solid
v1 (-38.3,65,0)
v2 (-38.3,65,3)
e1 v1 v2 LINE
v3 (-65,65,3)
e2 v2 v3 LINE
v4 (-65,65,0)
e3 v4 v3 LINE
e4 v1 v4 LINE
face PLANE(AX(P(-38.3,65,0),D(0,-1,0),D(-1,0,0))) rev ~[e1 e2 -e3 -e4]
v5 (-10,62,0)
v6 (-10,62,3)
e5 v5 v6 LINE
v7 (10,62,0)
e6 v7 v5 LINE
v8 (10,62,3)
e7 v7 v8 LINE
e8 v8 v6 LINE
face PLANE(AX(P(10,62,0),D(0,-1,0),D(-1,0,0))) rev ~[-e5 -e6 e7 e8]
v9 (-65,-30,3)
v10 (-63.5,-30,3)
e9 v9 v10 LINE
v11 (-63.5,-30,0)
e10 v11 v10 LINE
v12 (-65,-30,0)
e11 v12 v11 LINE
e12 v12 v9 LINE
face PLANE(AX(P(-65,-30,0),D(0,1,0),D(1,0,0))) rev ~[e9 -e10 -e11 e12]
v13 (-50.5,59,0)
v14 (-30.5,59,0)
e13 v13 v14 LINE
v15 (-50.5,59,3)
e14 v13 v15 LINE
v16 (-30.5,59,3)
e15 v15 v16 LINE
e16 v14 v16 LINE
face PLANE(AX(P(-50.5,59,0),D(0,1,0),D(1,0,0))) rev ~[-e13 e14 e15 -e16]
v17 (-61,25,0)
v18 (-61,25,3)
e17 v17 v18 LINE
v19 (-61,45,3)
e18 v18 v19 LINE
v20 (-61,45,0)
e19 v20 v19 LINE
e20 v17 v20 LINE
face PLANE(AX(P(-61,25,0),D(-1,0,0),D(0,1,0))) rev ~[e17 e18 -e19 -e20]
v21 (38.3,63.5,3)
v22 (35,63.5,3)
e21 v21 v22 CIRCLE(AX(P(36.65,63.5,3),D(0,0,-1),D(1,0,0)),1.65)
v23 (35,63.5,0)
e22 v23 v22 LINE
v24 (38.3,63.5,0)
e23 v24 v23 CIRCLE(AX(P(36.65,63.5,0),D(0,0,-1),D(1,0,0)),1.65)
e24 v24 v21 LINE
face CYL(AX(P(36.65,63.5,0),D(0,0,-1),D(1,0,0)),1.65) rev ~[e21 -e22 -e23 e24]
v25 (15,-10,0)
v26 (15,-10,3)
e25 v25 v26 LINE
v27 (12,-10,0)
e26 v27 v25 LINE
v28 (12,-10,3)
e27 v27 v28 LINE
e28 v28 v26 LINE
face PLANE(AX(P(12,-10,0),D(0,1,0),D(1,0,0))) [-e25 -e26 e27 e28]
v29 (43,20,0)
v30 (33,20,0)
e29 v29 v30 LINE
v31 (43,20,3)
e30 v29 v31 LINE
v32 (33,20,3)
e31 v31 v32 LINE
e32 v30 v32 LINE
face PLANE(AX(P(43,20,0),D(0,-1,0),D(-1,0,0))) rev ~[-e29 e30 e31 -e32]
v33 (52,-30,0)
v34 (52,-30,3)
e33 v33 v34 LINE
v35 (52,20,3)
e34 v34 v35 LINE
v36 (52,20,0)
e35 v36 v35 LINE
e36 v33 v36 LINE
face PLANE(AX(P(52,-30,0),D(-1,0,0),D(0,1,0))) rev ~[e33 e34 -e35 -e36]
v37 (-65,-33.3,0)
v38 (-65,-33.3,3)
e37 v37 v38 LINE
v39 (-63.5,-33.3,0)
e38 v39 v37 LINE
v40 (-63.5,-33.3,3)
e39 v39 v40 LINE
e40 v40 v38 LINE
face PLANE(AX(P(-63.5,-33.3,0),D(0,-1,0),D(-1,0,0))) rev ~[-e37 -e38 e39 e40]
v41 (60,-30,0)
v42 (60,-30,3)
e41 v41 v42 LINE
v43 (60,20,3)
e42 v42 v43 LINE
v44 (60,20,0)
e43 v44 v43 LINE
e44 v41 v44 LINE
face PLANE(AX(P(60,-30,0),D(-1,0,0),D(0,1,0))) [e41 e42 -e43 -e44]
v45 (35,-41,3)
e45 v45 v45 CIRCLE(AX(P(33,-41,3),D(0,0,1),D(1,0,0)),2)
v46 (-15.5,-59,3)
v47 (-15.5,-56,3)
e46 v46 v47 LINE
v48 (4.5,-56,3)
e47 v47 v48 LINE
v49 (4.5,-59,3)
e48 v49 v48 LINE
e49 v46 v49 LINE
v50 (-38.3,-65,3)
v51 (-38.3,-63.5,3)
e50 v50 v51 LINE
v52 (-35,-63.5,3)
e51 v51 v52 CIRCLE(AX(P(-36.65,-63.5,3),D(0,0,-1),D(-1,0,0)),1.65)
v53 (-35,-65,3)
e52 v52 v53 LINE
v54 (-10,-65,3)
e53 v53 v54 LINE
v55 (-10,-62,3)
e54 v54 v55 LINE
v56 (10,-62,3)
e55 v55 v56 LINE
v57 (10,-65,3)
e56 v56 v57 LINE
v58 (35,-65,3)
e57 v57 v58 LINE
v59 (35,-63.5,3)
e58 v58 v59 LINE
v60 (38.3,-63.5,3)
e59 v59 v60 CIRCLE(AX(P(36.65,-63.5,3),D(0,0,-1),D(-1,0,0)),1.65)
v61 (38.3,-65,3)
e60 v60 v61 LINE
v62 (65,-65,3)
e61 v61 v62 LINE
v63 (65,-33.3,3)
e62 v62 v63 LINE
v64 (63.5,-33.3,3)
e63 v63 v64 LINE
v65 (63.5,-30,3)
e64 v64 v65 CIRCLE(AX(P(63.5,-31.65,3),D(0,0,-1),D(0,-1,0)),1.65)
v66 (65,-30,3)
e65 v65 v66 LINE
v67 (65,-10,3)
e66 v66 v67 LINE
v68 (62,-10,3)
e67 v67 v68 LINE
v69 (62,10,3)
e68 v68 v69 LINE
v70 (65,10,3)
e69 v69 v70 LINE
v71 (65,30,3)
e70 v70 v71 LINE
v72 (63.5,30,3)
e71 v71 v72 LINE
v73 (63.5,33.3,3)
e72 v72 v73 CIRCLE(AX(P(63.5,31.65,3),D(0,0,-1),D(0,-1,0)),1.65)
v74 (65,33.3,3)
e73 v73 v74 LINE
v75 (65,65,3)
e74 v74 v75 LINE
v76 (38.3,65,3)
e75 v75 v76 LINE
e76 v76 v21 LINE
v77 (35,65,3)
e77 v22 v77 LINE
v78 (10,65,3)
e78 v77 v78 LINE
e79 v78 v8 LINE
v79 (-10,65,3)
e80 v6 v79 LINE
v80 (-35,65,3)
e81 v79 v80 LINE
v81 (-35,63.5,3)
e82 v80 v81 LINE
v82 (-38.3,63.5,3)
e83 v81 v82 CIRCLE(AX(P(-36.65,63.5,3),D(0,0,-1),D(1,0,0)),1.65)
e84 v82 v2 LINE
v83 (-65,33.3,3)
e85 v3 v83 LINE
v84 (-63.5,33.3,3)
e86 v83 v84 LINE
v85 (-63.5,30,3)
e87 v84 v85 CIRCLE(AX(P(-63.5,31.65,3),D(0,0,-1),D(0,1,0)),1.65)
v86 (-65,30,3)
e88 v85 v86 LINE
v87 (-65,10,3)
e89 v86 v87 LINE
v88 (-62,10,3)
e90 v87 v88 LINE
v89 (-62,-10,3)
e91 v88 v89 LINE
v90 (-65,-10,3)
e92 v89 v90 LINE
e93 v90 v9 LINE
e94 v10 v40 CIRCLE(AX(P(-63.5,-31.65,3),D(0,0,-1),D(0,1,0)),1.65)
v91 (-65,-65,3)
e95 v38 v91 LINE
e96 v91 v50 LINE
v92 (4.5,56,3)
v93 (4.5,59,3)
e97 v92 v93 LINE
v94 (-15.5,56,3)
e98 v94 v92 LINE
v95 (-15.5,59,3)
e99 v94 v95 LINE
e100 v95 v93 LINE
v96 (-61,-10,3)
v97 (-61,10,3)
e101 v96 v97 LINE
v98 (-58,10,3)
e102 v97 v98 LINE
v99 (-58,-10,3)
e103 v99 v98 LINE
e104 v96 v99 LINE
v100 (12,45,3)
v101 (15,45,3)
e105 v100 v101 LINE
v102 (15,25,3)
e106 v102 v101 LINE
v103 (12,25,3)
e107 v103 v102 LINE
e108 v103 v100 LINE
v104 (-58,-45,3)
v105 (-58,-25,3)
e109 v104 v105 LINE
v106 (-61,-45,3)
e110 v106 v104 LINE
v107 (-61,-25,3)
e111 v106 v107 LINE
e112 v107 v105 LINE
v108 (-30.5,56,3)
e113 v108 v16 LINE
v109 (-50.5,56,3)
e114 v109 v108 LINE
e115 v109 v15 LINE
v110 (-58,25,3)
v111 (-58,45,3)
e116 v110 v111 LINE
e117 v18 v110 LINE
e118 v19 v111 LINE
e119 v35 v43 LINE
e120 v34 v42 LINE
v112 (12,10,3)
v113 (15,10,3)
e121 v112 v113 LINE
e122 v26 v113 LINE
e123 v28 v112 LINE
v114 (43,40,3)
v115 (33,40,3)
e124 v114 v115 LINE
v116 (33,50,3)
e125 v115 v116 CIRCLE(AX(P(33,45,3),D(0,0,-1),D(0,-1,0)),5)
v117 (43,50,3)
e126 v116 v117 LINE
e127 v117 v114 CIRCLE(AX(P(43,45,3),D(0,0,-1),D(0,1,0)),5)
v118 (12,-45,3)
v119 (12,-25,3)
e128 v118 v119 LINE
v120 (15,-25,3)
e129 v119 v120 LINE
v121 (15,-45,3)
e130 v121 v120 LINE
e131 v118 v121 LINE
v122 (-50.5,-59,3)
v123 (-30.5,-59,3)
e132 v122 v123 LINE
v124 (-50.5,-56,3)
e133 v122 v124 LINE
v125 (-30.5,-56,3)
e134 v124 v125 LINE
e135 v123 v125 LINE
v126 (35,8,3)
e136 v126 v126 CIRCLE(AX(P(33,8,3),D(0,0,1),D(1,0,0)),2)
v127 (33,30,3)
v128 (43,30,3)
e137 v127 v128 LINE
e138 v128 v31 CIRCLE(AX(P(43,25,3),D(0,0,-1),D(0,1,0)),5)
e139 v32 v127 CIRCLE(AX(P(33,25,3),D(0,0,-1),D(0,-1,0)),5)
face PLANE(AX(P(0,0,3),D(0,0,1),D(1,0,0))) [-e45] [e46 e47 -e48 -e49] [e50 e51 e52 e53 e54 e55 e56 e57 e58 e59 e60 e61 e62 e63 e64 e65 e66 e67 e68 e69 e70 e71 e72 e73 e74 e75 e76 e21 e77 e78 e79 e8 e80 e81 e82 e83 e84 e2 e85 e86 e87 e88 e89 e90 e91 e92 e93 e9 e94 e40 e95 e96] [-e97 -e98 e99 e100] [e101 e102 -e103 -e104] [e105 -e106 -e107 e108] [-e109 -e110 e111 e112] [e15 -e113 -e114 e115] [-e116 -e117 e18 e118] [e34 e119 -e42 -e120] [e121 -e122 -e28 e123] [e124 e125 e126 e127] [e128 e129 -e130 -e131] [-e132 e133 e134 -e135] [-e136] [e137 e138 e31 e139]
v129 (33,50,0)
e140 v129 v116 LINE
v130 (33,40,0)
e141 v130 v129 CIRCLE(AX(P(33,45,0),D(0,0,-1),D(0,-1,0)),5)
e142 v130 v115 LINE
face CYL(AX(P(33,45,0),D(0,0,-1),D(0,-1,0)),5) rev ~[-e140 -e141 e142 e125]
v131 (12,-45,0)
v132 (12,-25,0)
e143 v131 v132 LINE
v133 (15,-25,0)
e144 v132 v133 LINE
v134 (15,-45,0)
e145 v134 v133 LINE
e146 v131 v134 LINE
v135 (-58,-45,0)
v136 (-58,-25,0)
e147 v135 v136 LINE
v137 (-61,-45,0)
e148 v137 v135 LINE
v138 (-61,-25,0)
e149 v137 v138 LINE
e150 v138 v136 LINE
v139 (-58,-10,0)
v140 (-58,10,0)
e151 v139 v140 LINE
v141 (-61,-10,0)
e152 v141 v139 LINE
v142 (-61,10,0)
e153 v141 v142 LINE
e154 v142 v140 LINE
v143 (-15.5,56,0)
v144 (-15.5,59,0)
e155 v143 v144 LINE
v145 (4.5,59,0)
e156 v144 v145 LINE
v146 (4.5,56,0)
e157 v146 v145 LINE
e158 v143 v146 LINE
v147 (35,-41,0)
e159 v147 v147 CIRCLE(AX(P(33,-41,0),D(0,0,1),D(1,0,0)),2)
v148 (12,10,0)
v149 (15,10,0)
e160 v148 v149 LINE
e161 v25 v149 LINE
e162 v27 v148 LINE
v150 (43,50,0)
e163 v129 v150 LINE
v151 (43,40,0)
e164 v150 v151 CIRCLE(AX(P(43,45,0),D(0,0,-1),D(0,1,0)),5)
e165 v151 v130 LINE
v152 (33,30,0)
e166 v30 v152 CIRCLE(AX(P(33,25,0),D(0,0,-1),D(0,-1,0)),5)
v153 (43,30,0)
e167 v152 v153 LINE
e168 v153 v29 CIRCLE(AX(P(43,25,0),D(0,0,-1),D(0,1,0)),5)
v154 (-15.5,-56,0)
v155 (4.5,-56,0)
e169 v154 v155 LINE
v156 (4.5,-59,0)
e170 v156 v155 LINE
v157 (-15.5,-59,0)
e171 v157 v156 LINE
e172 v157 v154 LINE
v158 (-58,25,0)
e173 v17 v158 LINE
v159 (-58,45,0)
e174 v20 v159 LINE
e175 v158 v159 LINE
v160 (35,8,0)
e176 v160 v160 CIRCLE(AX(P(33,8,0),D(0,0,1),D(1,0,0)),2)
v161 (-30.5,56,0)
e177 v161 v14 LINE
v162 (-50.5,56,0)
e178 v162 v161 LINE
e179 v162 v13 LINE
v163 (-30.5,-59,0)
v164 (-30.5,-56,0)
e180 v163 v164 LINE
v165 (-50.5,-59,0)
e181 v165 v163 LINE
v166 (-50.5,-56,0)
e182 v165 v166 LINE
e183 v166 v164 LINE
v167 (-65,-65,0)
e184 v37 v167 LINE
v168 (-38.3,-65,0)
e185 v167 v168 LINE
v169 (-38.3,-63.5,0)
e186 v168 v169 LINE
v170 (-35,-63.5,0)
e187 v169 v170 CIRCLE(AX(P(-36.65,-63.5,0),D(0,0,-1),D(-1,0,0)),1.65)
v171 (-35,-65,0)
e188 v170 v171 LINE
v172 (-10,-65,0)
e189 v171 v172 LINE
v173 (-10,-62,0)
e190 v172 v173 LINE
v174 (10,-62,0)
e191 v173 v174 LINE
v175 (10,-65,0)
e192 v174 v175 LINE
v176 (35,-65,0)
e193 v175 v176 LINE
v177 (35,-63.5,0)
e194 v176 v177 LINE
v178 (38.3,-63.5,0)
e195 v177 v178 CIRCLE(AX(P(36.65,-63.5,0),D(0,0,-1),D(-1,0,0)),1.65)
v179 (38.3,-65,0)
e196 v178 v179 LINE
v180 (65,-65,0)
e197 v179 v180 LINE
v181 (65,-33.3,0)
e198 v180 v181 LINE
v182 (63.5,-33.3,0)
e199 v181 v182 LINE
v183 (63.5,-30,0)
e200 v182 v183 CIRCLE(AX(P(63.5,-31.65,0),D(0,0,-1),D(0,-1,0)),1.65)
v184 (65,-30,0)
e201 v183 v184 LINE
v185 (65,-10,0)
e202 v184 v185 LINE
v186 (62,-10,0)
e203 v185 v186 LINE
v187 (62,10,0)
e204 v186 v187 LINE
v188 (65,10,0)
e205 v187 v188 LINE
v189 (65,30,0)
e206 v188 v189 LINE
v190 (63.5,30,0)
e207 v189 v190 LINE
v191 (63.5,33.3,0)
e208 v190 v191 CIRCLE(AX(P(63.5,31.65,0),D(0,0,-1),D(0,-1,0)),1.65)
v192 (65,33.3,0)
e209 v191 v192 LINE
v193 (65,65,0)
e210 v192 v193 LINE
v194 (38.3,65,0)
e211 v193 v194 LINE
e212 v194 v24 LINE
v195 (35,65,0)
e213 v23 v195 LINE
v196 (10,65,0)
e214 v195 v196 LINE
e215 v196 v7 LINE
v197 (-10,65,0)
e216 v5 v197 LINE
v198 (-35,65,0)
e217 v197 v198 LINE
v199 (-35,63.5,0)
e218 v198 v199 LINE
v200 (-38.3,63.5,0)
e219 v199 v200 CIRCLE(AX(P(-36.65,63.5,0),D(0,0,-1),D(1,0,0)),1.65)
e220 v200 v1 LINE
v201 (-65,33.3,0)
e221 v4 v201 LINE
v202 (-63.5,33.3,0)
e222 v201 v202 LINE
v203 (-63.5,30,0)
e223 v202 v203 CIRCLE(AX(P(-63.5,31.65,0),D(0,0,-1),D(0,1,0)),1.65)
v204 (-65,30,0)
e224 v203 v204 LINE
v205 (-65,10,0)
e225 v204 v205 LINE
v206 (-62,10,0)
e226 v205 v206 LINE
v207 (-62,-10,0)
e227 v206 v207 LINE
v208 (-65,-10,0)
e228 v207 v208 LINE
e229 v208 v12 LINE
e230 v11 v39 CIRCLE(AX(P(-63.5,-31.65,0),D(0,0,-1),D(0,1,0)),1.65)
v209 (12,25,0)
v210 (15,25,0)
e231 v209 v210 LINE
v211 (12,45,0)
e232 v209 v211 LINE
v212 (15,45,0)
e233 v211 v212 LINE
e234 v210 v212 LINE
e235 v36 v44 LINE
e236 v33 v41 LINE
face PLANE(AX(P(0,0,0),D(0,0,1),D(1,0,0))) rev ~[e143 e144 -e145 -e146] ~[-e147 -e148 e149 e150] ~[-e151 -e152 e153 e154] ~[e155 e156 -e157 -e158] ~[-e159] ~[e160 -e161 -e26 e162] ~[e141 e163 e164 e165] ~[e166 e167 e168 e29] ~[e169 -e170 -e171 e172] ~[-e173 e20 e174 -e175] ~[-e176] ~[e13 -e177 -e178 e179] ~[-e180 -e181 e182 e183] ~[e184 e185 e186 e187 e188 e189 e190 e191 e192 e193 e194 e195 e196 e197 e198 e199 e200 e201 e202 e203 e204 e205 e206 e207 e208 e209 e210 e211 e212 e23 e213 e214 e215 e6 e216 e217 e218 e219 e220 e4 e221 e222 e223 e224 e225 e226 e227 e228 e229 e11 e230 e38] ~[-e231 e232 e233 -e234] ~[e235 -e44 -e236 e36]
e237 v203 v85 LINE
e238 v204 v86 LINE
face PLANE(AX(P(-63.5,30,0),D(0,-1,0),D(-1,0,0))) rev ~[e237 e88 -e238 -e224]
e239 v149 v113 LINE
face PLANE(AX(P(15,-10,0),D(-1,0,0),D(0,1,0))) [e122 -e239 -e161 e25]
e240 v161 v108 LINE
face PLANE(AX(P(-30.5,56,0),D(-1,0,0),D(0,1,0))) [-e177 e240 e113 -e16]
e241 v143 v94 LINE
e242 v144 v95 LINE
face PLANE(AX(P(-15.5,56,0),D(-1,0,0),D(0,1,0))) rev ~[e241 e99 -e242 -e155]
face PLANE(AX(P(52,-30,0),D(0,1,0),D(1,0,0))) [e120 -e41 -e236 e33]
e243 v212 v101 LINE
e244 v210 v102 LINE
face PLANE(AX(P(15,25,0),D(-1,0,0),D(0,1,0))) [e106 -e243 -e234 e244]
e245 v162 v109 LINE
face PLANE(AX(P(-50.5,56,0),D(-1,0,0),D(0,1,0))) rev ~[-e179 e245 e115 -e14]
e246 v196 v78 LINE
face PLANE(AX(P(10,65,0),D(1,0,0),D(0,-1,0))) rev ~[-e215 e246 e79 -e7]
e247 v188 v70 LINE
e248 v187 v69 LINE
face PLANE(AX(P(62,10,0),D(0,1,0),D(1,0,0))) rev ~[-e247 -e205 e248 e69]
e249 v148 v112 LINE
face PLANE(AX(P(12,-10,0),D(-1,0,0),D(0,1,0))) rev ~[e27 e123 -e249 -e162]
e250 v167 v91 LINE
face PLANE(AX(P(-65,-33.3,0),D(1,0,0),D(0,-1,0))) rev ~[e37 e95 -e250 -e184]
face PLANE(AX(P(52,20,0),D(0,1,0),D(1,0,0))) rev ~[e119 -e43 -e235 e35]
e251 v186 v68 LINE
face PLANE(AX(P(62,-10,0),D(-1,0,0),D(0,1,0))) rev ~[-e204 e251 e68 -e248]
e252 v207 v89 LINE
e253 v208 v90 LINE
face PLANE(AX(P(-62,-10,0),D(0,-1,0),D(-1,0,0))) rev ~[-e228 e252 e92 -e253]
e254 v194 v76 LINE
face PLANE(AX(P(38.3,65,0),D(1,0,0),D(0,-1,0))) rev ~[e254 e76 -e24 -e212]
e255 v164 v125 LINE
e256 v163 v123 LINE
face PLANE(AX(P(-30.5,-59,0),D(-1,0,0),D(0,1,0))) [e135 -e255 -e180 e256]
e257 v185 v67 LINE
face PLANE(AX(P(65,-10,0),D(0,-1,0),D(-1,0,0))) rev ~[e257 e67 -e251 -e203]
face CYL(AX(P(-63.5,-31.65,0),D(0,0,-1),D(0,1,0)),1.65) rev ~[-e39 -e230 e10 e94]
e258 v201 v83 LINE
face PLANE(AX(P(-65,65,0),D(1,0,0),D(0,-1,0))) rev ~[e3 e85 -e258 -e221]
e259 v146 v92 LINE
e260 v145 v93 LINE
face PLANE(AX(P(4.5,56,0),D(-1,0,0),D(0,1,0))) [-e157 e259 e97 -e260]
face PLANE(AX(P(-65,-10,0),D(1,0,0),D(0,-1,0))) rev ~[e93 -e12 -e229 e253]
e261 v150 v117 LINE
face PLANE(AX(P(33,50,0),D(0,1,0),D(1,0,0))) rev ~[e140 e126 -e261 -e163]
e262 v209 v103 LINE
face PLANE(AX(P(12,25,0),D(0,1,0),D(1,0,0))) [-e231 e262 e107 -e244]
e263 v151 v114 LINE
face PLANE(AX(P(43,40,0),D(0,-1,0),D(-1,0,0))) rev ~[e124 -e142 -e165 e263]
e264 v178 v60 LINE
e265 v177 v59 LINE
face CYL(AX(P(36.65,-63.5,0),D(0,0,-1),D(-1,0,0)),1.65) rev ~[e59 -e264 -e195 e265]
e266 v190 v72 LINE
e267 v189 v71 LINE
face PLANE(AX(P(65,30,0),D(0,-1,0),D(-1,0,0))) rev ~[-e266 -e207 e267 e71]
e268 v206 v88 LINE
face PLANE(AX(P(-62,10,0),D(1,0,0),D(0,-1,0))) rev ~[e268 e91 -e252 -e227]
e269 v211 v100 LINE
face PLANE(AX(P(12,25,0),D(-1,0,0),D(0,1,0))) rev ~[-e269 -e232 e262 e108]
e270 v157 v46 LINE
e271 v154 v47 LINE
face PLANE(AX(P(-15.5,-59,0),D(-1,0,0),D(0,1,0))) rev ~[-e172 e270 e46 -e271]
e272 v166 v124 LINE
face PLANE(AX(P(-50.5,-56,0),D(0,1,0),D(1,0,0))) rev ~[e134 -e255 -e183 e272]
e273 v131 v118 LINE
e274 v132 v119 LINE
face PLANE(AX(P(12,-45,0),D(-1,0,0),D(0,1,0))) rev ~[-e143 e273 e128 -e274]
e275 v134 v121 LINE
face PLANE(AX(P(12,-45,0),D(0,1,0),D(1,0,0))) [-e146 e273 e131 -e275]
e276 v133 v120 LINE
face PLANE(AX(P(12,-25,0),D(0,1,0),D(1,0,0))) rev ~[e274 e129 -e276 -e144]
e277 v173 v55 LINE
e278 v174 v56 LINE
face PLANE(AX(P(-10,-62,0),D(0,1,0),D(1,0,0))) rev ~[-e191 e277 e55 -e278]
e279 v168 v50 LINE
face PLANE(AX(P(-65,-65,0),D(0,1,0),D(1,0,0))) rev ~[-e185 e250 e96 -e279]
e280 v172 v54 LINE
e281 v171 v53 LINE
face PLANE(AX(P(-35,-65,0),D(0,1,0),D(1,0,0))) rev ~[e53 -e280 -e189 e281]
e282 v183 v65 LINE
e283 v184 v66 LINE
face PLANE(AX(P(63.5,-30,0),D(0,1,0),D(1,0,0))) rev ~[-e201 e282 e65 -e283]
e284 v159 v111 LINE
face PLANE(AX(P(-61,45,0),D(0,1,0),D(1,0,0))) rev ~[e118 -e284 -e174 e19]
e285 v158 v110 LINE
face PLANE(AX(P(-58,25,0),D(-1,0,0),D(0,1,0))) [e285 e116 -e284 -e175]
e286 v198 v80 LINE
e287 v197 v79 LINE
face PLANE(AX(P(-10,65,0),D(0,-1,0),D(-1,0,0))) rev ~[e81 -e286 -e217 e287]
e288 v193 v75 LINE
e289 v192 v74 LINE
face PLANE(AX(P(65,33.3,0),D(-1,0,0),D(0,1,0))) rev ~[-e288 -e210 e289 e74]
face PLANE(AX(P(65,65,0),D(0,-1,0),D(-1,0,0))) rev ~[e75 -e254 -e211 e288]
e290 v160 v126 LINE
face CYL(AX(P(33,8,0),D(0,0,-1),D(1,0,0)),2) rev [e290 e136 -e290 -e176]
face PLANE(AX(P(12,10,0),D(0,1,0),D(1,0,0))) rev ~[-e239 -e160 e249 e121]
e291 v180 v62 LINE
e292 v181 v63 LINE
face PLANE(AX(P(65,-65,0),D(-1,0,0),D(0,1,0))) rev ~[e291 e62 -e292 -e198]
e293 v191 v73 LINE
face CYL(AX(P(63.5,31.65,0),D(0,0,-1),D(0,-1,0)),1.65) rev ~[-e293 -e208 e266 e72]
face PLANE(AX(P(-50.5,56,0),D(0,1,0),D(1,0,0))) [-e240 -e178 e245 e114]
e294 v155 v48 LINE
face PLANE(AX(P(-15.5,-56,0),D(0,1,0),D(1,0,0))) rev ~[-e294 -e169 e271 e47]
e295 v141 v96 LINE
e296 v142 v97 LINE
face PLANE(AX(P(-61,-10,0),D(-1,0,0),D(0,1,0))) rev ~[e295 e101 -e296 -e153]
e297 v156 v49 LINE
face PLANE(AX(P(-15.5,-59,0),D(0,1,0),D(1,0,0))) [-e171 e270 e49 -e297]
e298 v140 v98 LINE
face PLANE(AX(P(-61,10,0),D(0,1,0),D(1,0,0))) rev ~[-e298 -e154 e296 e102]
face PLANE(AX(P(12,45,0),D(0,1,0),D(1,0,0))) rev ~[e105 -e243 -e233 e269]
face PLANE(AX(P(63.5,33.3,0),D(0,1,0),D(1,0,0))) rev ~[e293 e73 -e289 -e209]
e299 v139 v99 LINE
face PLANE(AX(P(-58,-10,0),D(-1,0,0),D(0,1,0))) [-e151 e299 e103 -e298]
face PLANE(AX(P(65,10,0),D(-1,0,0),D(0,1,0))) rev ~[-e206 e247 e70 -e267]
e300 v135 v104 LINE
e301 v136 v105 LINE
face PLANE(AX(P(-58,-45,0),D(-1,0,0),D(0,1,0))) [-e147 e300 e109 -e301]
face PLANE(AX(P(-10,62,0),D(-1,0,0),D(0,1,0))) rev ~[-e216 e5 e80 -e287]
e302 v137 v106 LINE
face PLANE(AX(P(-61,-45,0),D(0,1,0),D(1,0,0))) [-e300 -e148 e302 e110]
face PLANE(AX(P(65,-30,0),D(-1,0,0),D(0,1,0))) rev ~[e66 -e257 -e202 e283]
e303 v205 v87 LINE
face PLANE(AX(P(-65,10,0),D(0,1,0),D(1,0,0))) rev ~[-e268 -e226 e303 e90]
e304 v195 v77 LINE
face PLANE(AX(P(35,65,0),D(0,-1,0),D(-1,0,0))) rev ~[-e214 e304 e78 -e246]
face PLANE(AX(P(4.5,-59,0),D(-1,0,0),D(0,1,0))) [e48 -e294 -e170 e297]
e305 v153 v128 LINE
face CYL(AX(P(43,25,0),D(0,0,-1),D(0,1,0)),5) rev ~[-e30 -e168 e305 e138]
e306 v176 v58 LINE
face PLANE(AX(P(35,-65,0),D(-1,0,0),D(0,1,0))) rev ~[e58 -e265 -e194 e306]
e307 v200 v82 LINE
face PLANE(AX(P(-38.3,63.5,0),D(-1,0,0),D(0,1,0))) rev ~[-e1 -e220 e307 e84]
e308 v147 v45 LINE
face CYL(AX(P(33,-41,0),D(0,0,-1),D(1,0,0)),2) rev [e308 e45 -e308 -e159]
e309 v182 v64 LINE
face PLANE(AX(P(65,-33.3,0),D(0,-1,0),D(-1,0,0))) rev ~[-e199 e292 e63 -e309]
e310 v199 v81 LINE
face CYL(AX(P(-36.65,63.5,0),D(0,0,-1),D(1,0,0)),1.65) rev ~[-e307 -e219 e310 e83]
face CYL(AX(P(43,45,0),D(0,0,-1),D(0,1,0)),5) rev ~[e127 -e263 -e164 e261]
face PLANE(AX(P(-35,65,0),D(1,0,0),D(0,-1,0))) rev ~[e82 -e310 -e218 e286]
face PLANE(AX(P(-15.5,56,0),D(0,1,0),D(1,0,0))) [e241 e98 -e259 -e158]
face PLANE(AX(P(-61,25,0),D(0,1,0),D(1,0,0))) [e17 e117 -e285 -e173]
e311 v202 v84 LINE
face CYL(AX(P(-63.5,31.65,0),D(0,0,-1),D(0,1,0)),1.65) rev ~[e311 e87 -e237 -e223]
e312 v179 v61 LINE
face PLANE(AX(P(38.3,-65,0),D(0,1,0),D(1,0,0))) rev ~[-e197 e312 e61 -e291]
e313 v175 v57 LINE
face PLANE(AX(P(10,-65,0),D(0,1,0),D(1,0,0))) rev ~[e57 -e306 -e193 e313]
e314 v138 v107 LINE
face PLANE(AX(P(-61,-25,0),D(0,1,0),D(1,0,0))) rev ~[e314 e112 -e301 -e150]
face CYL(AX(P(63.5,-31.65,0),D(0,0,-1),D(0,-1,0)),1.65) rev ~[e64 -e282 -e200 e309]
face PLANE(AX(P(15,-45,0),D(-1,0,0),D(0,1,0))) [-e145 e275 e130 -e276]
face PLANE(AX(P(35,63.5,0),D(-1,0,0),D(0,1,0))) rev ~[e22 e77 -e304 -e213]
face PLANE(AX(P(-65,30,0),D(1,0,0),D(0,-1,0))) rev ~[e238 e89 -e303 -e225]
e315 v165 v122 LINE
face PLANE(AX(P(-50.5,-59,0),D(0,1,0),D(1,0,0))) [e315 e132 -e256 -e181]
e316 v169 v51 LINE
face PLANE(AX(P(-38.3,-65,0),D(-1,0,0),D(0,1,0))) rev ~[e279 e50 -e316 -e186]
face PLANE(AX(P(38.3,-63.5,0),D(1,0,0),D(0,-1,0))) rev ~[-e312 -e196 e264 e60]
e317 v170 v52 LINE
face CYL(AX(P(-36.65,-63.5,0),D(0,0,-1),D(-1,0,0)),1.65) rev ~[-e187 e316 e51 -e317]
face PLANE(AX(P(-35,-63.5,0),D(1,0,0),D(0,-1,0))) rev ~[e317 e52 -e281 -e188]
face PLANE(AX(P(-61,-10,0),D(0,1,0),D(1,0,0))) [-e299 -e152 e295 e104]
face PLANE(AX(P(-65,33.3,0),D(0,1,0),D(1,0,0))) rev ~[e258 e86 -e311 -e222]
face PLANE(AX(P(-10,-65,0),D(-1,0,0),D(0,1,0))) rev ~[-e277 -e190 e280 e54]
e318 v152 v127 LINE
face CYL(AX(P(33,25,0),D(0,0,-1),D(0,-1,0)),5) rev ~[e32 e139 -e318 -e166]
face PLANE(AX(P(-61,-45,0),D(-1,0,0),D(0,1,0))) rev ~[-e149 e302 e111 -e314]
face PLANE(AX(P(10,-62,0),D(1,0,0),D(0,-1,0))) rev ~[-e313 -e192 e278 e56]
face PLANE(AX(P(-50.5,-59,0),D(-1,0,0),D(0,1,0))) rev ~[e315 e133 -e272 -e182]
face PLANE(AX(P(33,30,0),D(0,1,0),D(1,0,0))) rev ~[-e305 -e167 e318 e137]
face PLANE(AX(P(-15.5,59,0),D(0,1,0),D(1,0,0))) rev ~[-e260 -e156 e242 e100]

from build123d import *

# Parameters (mm, degrees)
SKETCH1_W           = 20
SKETCH1_H           = 3
SKETCH1_W_2         = 3
SKETCH1_H_2         = 20
SKETCH1_R           = 2
SKETCH1_W_3         = 8
SKETCH1_H_3         = 50
BOSS_EXTRUDE1_DEPTH = 3


with BuildPart() as part:
    # Sketch1 → Boss-Extrude1 (new body)
    with BuildSketch(Plane.XY):
        with BuildLine():
            Line((10, -62), (10, -65))
            Line((10, -65), (35, -65))
            Line((35, -65), (35, -63.5))
            ThreePointArc((35, -63.5), (36.65, -61.85), (38.3, -63.5))
            Line((38.3, -63.5), (38.3, -65))
            Line((38.3, -65), (65, -65))
            Line((65, -65), (65, -33.3))
            Line((65, -33.3), (63.5, -33.3))
            ThreePointArc((63.5, -33.3), (61.85, -31.65), (63.5, -30))
            Line((63.5, -30), (65, -30))
            Line((65, -30), (65, -10))
            Line((65, -10), (62, -10))
            Line((62, -10), (62, 10))
            Line((62, 10), (65, 10))
            Line((65, 10), (65, 30))
            Line((65, 30), (63.5, 30))
            ThreePointArc((63.5, 30), (61.85, 31.65), (63.5, 33.3))
            Line((63.5, 33.3), (65, 33.3))
            Line((65, 33.3), (65, 65))
            Line((65, 65), (38.3, 65))
            Line((38.3, 65), (38.3, 63.5))
            ThreePointArc((38.3, 63.5), (36.65, 61.85), (35, 63.5))
            Line((35, 63.5), (35, 65))
            Line((35, 65), (10, 65))
            Line((10, 65), (10, 62))
            Line((10, 62), (-10, 62))
            Line((-10, 62), (-10, 65))
            Line((-10, 65), (-35, 65))
            Line((-35, 65), (-35, 63.5))
            ThreePointArc((-35, 63.5), (-36.65, 61.85), (-38.3, 63.5))
            Line((-38.3, 63.5), (-38.3, 65))
            Line((-38.3, 65), (-65, 65))
            Line((-65, 65), (-65, 33.3))
            Line((-65, 33.3), (-63.5, 33.3))
            ThreePointArc((-63.5, 33.3), (-61.85, 31.65), (-63.5, 30))
            Line((-63.5, 30), (-65, 30))
            Line((-65, 30), (-65, 10))
            Line((-65, 10), (-62, 10))
            Line((-62, 10), (-62, -10))
            Line((-62, -10), (-65, -10))
            Line((-65, -10), (-65, -30))
            Line((-65, -30), (-63.5, -30))
            ThreePointArc((-63.5, -30), (-61.85, -31.65), (-63.5, -33.3))
            Line((-63.5, -33.3), (-65, -33.3))
            Line((-65, -33.3), (-65, -65))
            Line((-65, -65), (-38.3, -65))
            Line((-38.3, -65), (-38.3, -63.5))
            ThreePointArc((-38.3, -63.5), (-36.65, -61.85), (-35, -63.5))
            Line((-35, -63.5), (-35, -65))
            Line((-35, -65), (-10, -65))
            Line((-10, -65), (-10, -62))
            Line((-10, -62), (10, -62))
        make_face()
        with Locations((-40.5, -57.5)):
            Rectangle(SKETCH1_W, SKETCH1_H, mode=Mode.SUBTRACT)
        with Locations((-59.5, -35)):
            Rectangle(SKETCH1_W_2, SKETCH1_H_2, mode=Mode.SUBTRACT)
        with Locations((-5.5, -57.5)):
            Rectangle(SKETCH1_W, SKETCH1_H, mode=Mode.SUBTRACT)
        with Locations((13.5, -35)):
            Rectangle(SKETCH1_W_2, SKETCH1_H_2, mode=Mode.SUBTRACT)
        with Locations((33, -41)):
            Circle(SKETCH1_R, mode=Mode.SUBTRACT)
        with Locations((56, -5)):
            Rectangle(SKETCH1_W_3, SKETCH1_H_3, mode=Mode.SUBTRACT)
        with Locations((-59.5, 0)):
            Rectangle(SKETCH1_W_2, SKETCH1_H_2, mode=Mode.SUBTRACT)
        with Locations((-59.5, 35)):
            Rectangle(SKETCH1_W_2, SKETCH1_H_2, mode=Mode.SUBTRACT)
        with Locations((-40.5, 57.5)):
            Rectangle(SKETCH1_W, SKETCH1_H, mode=Mode.SUBTRACT)
        with Locations((-5.5, 57.5)):
            Rectangle(SKETCH1_W, SKETCH1_H, mode=Mode.SUBTRACT)
        with Locations((13.5, 0)):
            Rectangle(SKETCH1_W_2, SKETCH1_H_2, mode=Mode.SUBTRACT)
        with Locations((33, 8)):
            Circle(SKETCH1_R, mode=Mode.SUBTRACT)
        with BuildLine():
            ThreePointArc((33, 20), (28, 25), (33, 30))
            Line((33, 30), (43, 30))
            ThreePointArc((43, 30), (48, 25), (43, 20))
            Line((43, 20), (33, 20))
        make_face(mode=Mode.SUBTRACT)
        with Locations((13.5, 35)):
            Rectangle(SKETCH1_W_2, SKETCH1_H_2, mode=Mode.SUBTRACT)
        with BuildLine():
            ThreePointArc((43, 50), (48, 45), (43, 40))
            Line((43, 40), (33, 40))
            ThreePointArc((33, 40), (28, 45), (33, 50))
            Line((33, 50), (43, 50))
        make_face(mode=Mode.SUBTRACT)
    extrude(amount=BOSS_EXTRUDE1_DEPTH)


solid = part.part
